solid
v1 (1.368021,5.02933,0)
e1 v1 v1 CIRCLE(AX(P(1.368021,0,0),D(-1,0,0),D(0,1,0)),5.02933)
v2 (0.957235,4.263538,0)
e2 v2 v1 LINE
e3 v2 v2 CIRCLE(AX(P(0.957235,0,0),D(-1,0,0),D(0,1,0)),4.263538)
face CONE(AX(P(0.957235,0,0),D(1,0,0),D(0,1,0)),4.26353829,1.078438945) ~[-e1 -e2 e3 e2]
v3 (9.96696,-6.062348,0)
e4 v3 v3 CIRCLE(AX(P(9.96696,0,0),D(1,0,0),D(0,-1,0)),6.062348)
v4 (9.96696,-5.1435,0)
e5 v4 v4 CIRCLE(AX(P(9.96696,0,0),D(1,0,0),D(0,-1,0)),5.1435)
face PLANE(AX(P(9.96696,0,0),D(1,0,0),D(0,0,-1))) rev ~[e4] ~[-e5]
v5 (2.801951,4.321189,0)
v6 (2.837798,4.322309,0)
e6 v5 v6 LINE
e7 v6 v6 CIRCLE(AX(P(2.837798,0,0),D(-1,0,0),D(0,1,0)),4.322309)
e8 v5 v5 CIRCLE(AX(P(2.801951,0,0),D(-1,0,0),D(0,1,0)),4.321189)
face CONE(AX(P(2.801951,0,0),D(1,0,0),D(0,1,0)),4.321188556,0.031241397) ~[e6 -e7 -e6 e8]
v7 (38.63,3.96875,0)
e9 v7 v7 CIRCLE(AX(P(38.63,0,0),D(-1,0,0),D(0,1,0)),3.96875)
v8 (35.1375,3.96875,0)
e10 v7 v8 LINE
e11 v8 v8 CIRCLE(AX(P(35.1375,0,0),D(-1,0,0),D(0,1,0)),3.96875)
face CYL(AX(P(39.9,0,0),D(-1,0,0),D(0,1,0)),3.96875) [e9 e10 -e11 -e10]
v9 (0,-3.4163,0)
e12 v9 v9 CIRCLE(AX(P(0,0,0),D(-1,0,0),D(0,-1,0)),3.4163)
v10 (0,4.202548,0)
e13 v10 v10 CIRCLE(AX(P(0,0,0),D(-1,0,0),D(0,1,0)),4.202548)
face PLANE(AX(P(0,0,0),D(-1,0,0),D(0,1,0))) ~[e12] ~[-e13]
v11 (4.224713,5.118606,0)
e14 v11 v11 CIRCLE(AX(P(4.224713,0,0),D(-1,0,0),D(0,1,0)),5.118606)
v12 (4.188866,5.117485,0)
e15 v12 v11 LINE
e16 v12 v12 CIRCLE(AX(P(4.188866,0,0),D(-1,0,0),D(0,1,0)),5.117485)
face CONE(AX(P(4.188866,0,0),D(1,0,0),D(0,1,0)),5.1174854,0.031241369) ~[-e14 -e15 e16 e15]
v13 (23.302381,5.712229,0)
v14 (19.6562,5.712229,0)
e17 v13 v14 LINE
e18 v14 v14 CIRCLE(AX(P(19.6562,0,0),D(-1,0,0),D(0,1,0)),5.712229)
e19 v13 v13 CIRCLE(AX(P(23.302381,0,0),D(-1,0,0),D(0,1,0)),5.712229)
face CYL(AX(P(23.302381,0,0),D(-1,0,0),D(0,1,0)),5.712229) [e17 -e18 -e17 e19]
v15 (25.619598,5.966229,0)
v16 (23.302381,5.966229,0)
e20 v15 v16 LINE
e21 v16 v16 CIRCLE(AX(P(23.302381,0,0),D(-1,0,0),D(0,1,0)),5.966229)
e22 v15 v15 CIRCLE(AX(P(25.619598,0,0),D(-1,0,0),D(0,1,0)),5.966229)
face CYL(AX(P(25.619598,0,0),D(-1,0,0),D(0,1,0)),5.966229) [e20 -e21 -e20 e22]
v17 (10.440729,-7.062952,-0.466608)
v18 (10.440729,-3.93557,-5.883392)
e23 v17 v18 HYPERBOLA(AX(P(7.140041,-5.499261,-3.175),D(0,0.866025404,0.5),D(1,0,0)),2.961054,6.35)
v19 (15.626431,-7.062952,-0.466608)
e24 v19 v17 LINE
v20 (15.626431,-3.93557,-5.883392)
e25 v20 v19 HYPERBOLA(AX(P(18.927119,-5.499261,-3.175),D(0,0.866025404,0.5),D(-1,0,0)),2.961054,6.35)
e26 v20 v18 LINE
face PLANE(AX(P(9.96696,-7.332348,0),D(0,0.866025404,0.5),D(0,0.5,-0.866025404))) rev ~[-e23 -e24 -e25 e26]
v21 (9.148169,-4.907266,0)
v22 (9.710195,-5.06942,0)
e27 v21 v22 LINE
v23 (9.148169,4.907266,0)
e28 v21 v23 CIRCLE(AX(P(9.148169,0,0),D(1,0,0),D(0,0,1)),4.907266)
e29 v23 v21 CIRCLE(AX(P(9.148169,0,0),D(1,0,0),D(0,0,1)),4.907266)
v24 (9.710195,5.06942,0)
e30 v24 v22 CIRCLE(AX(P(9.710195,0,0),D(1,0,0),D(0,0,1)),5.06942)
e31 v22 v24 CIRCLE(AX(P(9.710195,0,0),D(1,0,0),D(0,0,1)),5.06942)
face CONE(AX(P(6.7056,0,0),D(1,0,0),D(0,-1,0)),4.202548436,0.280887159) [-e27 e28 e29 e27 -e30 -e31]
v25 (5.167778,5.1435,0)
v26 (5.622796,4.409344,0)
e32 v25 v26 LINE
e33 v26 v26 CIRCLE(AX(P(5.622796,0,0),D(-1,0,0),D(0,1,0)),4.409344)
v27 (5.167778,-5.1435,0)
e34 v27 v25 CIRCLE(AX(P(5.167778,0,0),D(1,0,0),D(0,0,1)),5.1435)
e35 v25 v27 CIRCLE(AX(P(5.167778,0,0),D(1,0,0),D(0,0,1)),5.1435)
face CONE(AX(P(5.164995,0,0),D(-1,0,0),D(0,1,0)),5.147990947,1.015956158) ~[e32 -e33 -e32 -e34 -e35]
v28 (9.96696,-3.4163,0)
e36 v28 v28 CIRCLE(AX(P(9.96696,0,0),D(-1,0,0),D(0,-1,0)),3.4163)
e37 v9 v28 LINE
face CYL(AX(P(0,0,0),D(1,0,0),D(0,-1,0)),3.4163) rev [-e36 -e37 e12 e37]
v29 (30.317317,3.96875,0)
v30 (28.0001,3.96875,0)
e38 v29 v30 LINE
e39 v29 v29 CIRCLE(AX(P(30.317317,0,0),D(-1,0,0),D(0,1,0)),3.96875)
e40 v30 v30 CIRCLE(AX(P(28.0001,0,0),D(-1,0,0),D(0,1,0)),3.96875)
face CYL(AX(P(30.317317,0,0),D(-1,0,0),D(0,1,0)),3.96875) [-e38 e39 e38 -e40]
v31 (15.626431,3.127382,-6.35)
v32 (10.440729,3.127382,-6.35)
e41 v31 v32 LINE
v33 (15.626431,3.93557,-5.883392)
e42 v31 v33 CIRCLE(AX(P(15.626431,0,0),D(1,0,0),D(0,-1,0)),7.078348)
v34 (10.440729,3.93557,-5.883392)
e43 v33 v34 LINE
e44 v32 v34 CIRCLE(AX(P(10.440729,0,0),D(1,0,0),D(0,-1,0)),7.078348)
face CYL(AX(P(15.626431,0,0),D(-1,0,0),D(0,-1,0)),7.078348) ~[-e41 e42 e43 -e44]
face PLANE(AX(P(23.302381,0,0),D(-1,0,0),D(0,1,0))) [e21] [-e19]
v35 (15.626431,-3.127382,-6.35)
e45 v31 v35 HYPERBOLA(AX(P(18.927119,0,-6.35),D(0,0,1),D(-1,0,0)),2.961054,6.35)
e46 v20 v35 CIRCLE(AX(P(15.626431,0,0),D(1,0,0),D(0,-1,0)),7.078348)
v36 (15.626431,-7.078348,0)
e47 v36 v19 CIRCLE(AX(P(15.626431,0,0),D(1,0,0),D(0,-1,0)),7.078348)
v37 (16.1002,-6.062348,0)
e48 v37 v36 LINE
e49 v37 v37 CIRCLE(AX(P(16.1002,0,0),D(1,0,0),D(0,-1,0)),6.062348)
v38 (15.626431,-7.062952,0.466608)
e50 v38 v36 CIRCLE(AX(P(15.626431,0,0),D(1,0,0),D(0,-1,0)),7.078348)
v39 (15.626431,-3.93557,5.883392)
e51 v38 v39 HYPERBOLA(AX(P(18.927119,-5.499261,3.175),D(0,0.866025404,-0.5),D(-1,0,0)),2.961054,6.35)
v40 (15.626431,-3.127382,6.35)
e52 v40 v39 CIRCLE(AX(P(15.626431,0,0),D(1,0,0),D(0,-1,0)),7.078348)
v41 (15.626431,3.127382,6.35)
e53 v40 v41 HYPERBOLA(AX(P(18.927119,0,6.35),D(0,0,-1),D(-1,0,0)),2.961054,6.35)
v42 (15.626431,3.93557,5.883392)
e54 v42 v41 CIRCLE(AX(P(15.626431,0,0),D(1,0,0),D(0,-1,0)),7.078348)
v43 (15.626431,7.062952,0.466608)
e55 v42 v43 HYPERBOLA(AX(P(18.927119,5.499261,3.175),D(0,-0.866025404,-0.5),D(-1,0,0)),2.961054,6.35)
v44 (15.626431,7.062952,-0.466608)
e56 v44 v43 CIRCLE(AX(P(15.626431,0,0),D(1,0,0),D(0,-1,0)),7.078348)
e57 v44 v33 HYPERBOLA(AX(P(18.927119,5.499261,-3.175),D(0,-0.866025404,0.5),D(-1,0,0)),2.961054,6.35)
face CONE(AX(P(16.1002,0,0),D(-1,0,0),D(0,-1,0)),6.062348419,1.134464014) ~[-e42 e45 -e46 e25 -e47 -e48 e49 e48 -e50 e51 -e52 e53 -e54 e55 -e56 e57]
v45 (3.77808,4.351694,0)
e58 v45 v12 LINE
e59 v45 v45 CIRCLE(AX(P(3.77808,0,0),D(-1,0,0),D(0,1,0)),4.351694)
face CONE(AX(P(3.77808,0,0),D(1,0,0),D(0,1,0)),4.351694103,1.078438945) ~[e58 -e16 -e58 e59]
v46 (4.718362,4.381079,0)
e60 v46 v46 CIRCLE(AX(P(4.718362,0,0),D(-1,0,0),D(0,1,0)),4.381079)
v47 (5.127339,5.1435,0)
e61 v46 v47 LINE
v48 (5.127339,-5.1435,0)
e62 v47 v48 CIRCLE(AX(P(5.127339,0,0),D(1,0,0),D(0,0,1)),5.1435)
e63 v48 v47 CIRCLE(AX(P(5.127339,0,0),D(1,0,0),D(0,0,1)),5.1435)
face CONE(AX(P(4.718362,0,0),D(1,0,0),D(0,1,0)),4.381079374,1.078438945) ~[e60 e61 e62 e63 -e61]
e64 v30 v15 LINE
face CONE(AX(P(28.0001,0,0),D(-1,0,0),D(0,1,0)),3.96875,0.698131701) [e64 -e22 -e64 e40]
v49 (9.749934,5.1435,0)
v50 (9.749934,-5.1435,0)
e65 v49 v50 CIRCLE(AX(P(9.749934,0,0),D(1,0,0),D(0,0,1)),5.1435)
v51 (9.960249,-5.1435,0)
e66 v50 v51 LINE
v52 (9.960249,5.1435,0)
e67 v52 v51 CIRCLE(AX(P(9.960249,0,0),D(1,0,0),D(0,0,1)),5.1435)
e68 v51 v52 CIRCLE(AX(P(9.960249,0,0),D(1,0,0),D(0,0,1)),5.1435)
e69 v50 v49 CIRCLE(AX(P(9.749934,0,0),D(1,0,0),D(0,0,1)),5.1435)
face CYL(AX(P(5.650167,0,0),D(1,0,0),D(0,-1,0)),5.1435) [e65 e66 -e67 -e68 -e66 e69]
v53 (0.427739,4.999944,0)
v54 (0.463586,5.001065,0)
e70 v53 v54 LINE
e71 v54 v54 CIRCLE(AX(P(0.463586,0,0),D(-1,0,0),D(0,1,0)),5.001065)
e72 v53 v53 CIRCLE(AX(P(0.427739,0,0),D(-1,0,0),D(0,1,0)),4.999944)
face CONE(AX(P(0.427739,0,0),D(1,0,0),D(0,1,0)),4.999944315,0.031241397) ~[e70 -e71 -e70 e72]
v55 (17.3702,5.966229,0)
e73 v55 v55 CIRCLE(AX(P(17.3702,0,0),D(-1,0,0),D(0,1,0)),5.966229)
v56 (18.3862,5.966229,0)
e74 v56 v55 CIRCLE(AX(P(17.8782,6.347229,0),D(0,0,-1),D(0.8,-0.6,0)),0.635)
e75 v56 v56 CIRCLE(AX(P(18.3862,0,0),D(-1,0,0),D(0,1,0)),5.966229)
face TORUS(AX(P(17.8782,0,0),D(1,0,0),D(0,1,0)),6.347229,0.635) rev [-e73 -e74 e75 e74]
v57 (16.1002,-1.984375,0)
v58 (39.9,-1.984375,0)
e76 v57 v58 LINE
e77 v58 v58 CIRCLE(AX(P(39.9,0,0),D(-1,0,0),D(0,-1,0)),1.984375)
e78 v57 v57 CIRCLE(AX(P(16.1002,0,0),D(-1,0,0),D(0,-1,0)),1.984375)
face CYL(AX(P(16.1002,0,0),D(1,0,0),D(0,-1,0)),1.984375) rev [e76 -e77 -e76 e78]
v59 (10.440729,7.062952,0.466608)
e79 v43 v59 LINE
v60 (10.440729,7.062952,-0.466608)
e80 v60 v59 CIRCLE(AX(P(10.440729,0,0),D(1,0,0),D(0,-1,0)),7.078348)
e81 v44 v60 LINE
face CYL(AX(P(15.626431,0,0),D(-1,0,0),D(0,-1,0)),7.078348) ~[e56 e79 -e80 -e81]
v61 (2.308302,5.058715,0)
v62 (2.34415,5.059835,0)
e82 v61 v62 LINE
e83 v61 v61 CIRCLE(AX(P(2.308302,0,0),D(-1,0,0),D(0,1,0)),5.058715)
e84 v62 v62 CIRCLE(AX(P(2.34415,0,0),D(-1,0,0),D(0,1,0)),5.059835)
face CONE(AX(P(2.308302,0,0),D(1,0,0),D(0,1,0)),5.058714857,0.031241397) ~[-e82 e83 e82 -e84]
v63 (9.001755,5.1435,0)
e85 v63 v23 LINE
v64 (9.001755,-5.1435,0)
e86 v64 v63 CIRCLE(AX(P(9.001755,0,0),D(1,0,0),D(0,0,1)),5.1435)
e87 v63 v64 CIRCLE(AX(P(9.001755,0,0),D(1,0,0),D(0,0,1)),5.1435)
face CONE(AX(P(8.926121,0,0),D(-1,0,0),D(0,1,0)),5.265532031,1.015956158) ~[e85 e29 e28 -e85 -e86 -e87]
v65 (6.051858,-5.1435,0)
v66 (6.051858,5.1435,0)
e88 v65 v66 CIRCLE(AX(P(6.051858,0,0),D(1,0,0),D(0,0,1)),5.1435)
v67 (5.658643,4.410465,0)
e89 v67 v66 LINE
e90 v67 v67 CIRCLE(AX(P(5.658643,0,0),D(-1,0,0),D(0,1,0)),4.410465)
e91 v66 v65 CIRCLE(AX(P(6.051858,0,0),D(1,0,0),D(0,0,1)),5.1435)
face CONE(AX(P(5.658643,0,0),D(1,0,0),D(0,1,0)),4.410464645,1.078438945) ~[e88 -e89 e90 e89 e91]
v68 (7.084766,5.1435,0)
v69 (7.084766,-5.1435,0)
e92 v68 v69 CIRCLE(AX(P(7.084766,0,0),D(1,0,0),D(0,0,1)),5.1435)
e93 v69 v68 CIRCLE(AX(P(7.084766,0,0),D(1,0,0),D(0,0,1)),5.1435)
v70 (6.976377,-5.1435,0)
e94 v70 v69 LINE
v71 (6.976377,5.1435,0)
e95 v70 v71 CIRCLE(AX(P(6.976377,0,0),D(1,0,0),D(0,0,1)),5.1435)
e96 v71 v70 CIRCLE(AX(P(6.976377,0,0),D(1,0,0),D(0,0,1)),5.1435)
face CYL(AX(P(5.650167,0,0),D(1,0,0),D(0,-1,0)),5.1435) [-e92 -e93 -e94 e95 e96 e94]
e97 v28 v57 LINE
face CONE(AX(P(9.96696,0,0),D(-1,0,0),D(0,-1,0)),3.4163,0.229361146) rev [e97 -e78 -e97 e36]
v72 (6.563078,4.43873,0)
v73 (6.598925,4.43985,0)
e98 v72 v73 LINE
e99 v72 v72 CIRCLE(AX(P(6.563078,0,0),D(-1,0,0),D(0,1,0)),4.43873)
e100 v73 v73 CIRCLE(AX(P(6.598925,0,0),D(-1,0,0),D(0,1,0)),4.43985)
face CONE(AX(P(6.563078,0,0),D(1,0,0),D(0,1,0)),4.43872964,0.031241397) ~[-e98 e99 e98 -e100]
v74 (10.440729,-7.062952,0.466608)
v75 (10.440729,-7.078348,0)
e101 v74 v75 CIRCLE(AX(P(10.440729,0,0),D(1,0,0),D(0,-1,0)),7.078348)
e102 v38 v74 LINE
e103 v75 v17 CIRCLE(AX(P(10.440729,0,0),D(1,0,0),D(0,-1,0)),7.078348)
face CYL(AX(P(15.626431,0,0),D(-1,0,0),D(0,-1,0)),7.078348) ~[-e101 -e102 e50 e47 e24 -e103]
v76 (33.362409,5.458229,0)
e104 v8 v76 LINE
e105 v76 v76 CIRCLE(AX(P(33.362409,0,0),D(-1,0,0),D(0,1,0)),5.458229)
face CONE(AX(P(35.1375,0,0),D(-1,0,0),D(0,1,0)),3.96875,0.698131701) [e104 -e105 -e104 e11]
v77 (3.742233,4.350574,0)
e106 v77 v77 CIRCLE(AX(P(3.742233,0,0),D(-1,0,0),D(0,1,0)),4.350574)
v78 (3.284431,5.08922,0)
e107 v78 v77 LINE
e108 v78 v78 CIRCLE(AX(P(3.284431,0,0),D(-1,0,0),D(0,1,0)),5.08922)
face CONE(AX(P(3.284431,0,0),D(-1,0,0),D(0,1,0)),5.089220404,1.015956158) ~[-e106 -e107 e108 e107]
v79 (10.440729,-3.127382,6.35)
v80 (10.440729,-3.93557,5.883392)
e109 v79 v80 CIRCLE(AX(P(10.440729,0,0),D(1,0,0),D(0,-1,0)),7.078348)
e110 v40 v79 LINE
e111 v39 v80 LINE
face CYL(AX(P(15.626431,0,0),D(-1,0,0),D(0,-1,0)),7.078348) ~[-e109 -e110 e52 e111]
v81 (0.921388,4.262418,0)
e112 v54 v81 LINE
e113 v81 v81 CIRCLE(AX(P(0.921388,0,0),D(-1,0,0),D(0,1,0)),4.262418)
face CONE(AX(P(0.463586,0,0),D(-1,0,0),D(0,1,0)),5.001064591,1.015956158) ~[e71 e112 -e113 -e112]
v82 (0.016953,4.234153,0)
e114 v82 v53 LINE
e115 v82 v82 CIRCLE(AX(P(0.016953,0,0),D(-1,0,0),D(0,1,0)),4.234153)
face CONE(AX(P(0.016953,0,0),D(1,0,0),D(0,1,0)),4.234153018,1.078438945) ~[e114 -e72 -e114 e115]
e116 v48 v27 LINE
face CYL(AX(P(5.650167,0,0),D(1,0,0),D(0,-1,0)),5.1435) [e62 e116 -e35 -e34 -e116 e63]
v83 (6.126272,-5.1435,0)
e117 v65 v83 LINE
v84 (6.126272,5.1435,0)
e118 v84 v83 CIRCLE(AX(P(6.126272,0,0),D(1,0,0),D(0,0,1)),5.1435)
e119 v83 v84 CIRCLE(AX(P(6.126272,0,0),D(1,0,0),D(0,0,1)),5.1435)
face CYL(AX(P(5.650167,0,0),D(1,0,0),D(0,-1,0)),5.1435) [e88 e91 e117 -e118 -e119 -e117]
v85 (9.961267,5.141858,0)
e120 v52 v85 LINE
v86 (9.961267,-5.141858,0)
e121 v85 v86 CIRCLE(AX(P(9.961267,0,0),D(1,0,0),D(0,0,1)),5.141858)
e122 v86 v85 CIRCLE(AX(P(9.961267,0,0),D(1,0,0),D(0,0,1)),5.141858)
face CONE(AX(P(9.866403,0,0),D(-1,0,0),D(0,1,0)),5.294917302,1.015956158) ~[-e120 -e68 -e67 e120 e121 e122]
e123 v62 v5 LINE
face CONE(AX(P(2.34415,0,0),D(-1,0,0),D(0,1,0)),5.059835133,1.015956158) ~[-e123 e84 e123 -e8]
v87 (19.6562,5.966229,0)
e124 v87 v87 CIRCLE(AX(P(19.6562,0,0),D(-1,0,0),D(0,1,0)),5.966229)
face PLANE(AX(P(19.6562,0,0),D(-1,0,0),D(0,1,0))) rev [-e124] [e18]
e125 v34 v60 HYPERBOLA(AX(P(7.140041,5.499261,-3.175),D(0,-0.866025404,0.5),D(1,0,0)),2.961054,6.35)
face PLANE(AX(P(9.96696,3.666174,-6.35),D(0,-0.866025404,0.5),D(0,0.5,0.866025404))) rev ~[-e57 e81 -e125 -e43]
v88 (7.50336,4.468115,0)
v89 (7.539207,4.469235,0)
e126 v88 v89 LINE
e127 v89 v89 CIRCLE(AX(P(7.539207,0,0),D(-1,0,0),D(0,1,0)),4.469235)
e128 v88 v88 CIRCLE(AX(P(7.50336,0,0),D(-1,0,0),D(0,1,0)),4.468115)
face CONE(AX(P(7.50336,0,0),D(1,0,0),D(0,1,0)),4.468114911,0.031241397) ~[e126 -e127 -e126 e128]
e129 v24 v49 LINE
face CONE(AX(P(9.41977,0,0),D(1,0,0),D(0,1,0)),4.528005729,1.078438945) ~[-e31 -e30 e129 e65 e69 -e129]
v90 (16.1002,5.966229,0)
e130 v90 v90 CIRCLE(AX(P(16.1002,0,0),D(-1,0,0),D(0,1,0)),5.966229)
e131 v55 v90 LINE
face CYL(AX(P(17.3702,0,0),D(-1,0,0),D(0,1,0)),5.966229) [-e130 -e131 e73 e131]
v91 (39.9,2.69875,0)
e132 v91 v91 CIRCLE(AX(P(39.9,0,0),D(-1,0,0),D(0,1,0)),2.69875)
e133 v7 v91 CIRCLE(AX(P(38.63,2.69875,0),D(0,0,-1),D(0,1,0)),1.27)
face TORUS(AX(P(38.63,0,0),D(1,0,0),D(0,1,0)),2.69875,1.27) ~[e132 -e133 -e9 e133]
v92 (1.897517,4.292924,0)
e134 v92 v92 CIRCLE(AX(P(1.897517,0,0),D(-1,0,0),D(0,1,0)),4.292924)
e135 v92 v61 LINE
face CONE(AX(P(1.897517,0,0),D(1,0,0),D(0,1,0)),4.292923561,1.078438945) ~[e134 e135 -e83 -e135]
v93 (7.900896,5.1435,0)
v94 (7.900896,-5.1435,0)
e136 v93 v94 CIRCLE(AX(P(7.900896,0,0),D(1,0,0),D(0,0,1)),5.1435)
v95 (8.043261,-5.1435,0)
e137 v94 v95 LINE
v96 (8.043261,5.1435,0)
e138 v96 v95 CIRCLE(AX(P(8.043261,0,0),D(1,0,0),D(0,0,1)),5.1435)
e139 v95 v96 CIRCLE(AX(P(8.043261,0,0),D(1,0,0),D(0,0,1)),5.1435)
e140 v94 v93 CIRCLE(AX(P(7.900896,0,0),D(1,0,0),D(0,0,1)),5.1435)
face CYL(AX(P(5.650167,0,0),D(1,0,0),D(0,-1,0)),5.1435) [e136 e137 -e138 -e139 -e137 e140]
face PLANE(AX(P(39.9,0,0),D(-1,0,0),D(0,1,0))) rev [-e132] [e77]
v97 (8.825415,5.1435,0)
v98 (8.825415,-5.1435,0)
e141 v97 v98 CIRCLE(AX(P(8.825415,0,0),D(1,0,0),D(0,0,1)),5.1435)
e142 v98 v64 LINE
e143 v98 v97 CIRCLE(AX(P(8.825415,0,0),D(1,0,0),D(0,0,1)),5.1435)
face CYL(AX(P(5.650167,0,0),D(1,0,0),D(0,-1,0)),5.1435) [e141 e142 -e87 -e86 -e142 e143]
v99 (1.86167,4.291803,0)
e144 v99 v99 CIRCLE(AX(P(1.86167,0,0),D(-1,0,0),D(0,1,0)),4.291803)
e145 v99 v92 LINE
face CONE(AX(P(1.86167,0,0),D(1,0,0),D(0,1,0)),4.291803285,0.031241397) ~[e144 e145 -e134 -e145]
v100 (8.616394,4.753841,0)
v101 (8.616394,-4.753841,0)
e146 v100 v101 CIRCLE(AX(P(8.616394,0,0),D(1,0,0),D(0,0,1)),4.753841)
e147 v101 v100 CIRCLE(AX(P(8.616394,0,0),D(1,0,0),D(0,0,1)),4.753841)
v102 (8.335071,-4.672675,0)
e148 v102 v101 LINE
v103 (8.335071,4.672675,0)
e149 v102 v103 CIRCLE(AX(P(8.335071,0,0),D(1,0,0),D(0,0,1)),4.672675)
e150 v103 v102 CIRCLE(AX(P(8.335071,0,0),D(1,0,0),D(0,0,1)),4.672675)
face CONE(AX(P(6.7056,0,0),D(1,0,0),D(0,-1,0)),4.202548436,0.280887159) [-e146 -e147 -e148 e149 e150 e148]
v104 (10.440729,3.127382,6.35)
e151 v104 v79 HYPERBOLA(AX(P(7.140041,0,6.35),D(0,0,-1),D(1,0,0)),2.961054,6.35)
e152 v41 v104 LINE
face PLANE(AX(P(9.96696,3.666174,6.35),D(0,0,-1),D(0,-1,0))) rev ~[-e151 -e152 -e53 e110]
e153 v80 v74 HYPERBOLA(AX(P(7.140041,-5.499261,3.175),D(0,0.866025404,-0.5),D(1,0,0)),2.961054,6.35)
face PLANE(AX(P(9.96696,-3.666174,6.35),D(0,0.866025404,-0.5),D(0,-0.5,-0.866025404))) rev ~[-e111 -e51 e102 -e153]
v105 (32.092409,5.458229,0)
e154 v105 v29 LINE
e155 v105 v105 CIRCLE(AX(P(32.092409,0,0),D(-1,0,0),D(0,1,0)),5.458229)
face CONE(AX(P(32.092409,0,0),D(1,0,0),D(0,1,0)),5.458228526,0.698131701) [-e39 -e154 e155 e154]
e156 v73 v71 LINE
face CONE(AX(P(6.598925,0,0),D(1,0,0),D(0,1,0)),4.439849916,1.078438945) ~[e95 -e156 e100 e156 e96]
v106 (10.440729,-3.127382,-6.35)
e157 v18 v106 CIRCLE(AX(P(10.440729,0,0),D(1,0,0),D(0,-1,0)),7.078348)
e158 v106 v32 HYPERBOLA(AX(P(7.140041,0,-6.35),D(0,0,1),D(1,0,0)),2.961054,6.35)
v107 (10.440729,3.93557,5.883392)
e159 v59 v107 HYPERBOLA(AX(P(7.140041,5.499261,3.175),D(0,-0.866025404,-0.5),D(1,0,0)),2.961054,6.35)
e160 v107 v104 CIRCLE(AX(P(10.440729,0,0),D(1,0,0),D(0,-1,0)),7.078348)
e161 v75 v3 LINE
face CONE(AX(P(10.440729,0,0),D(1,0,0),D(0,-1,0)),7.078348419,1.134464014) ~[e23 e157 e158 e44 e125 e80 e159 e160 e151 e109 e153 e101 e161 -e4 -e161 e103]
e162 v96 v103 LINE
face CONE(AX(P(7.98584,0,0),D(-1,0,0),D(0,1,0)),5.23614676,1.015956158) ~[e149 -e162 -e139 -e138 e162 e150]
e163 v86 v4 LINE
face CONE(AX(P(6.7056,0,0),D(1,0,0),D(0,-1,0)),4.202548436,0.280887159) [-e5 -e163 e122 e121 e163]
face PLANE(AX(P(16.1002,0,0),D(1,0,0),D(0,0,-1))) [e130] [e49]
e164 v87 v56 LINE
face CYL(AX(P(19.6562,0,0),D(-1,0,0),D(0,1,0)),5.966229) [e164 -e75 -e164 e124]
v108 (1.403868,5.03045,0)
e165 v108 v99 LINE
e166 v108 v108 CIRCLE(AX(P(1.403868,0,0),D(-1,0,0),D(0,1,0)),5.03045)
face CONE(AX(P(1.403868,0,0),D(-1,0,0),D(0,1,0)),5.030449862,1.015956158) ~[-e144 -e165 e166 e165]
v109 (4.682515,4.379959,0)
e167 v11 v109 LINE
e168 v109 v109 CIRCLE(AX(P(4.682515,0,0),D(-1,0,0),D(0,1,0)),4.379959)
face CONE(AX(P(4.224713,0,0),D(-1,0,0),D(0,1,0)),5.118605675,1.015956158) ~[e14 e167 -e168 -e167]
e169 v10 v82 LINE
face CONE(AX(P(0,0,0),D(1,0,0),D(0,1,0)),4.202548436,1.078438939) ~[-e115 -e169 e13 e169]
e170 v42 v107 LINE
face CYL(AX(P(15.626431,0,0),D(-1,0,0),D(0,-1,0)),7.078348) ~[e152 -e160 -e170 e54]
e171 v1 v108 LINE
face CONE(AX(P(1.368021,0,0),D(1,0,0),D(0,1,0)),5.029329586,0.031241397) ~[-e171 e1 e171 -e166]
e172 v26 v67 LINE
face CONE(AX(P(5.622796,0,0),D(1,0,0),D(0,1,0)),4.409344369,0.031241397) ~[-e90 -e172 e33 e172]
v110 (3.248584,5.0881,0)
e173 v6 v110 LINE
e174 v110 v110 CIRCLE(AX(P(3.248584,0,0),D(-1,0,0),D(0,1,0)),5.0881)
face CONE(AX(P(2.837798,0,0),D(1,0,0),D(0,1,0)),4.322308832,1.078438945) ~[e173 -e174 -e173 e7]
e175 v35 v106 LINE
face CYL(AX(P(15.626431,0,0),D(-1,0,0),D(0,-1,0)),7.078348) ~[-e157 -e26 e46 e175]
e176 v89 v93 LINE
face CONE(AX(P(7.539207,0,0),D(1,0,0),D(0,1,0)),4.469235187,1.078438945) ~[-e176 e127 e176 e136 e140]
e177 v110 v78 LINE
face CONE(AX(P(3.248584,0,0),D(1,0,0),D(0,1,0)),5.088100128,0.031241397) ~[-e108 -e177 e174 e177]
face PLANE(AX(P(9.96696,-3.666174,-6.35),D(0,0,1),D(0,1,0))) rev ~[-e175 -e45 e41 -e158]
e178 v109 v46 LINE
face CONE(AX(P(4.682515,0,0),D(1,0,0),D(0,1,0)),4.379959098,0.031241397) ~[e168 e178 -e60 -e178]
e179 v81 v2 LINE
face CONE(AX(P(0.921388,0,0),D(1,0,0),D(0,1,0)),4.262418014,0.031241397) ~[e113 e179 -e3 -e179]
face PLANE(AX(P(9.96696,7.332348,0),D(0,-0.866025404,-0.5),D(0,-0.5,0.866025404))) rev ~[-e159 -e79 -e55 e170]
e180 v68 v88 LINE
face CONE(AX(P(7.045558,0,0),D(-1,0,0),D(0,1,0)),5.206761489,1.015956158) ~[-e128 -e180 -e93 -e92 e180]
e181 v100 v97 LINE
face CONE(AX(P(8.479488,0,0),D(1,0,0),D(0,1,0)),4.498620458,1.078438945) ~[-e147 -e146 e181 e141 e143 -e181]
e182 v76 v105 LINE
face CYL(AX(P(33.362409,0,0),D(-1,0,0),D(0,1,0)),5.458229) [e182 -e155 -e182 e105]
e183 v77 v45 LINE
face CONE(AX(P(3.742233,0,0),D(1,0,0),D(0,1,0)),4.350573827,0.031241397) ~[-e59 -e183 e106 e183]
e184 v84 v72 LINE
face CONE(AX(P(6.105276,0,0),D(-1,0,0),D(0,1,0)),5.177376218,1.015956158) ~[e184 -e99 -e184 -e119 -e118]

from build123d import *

# Parameters (mm, degrees)
SKETCH6_W      = 11.300333551
SKETCH6_H      = 15.496408613
EXTRUDE1_DEPTH = 6.13324
FILLET1_R      = 1.27


with BuildPart() as part:
    # Sketch1 → Revolve1 (revolve)
    with BuildSketch(Plane.XY):
        Polygon((0, 0), (0, 4.202548436), (0.016953331, 4.234153018), (0.42773912, 4.999944315), (0.463586157, 5.001064591), (0.921387979, 4.262418014), (0.957235016, 4.26353829), (1.368020805, 5.029329586), (1.403867842, 5.030449862), (1.861669664, 4.291803285), (1.897516701, 4.292923561), (2.30830249, 5.058714857), (2.344149527, 5.059835133), (2.801951349, 4.321188556), (2.837798386, 4.322308832), (3.248584175, 5.088100128), (3.284431212, 5.089220404), (3.742233034, 4.350573827), (3.778080071, 4.351694103), (4.18886586, 5.1174854), (4.224712897, 5.118605675), (4.682514719, 4.379959098), (4.718361756, 4.381079374), (5.129147545, 5.146870671), (5.164994582, 5.147990947), (5.622796404, 4.409344369), (5.658643441, 4.410464645), (6.06942923, 5.176255942), (6.105276267, 5.177376218), (6.563078089, 4.43872964), (6.598925126, 4.439849916), (7.009710915, 5.205641213), (7.045557952, 5.206761489), (7.503359774, 4.468114911), (7.539206811, 4.469235187), (7.9499926, 5.235026484), (7.985839637, 5.23614676), (8.443641459, 4.497500182), (8.479488496, 4.498620458), (8.890274285, 5.264411755), (8.926121322, 5.265532031), (9.383923144, 4.526885454), (9.419770181, 4.528005729), (9.83055597, 5.293797026), (9.866403007, 5.294917302), (10.324204829, 4.556270725), (10.360051866, 4.557391001), (10.770837655, 5.323182297), (10.806684692, 5.324302573), (11.264486514, 4.585655996), (11.300333551, 4.586776272), (11.300333551, 0), align=None)
    revolve(axis=Axis((0, 0, 0), (-1, 0, 0)))

    # Sketch5 → Cut-Revolve2 (revolve, cut)
    with BuildSketch(Plane.XY, mode=Mode.PRIVATE) as cut_revolve2_sk:
        Polygon((9.96696, 0), (9.96696, 5.298059865), (11.300333551, 5.339729871), (11.300333551, 0), align=None)
    revolve(cut_revolve2_sk.sketch.rotate(Axis((0, 0, 0), (-1, 0, 0)), 180), axis=Axis((0, 0, 0), (-1, 0, 0)), mode=Mode.SUBTRACT)

    # Sketch6 → Cut-Revolve3 (revolve, cut)
    with BuildSketch(Plane.XY, mode=Mode.PRIVATE) as cut_revolve3_sk:
        with Locations((5.650166776, 12.891704307)):
            Rectangle(SKETCH6_W, SKETCH6_H)
    revolve(cut_revolve3_sk.sketch.rotate(Axis((0, 0, 0), (1, 0, 0)), 180), axis=Axis((0, 0, 0), (1, 0, 0)), mode=Mode.SUBTRACT)

    # Sketch7 → Revolve2 (revolve)
    with BuildSketch(Plane.XY, mode=Mode.PRIVATE) as revolve2_sk:
        Polygon((6.7056, 4.202548436), (9.96696, 5.1435), (9.96696, 4.202548436), align=None)
    revolve(revolve2_sk.sketch.rotate(Axis((0, 0, 0), (1, 0, 0)), 180), axis=Axis((0, 0, 0), (1, 0, 0)))

    # Sketch8 → Extrude1 (add)
    with BuildSketch(Plane(origin=(9.96696, 0, 0), x_dir=(0, 0, -1), z_dir=(1, 0, 0))):
        Polygon((0, 7.332348419), (-6.35, 3.666174209), (-6.35, -3.666174209), (0, -7.332348419), (6.35, -3.666174209), (6.35, 3.666174209), align=None)
    extrude(amount=EXTRUDE1_DEPTH)

    # Sketch9 → Cut-Revolve4 (revolve, cut)
    with BuildSketch(Plane.XY, mode=Mode.PRIVATE) as cut_revolve4_sk:
        Polygon((16.1002, 6.062348419), (15.626431419, 7.078348419), (10.440728581, 7.078348419), (9.96696, 6.062348419), (9.96696, 7.332348419), (16.1002, 7.332348419), align=None)
    revolve(cut_revolve4_sk.sketch.rotate(Axis((0, 0, 0), (1, 0, 0)), 180), axis=Axis((0, 0, 0), (1, 0, 0)), mode=Mode.SUBTRACT)

    # Sketch10 → Revolve3 (revolve)
    with BuildSketch(Plane.XY):
        with BuildLine():
            Line((16.1002, 0), (39.9, 0))
            Line((39.9, 0), (39.9, 3.96875))
            Line((39.9, 3.96875), (35.1375, 3.96875))
            Line((35.1375, 3.96875), (33.362408616, 5.458228526))
            Line((33.362408616, 5.458228526), (32.092408616, 5.458228526))
            Line((32.092408616, 5.458228526), (30.317317232, 3.96875))
            Line((30.317317232, 3.96875), (28.0001, 3.96875))
            Line((28.0001, 3.96875), (25.619597791, 5.966228526))
            Line((25.619597791, 5.966228526), (23.302380559, 5.966228526))
            Line((23.302380559, 5.966228526), (23.302380559, 5.712228526))
            Line((23.302380559, 5.712228526), (19.6562, 5.712228526))
            Line((19.6562, 5.712228526), (19.6562, 5.966228526))
            Line((19.6562, 5.966228526), (18.3862, 5.966228526))
            ThreePointArc((18.3862, 5.966228526), (17.8782, 5.712228526), (17.3702, 5.966228526))
            Line((17.3702, 5.966228526), (16.1002, 5.966228526))
            Line((16.1002, 5.966228526), (16.1002, 0))
        make_face()
    revolve(axis=Axis((0, 0, 0), (-1, 0, 0)))

    # Fillet1
    fillet1_edges = [part.edges().sort_by_distance(p)[0] for p in [
        (39.9, -3.96875, 0),
    ]]
    fillet(fillet1_edges, radius=FILLET1_R)

    # Sketch11 → Cut-Revolve5 (revolve, cut)
    with BuildSketch(Plane.XY, mode=Mode.PRIVATE) as cut_revolve5_sk:
        Polygon((9.96696, 3.4163), (16.1002, 1.984375), (39.9, 1.984375), (39.9, 0), (6.7056, 0), (0, 0), (0, 3.4163), align=None)
    revolve(cut_revolve5_sk.sketch.rotate(Axis((0, 0, 0), (-1, 0, 0)), 180), axis=Axis((0, 0, 0), (-1, 0, 0)), mode=Mode.SUBTRACT)


solid = part.part
